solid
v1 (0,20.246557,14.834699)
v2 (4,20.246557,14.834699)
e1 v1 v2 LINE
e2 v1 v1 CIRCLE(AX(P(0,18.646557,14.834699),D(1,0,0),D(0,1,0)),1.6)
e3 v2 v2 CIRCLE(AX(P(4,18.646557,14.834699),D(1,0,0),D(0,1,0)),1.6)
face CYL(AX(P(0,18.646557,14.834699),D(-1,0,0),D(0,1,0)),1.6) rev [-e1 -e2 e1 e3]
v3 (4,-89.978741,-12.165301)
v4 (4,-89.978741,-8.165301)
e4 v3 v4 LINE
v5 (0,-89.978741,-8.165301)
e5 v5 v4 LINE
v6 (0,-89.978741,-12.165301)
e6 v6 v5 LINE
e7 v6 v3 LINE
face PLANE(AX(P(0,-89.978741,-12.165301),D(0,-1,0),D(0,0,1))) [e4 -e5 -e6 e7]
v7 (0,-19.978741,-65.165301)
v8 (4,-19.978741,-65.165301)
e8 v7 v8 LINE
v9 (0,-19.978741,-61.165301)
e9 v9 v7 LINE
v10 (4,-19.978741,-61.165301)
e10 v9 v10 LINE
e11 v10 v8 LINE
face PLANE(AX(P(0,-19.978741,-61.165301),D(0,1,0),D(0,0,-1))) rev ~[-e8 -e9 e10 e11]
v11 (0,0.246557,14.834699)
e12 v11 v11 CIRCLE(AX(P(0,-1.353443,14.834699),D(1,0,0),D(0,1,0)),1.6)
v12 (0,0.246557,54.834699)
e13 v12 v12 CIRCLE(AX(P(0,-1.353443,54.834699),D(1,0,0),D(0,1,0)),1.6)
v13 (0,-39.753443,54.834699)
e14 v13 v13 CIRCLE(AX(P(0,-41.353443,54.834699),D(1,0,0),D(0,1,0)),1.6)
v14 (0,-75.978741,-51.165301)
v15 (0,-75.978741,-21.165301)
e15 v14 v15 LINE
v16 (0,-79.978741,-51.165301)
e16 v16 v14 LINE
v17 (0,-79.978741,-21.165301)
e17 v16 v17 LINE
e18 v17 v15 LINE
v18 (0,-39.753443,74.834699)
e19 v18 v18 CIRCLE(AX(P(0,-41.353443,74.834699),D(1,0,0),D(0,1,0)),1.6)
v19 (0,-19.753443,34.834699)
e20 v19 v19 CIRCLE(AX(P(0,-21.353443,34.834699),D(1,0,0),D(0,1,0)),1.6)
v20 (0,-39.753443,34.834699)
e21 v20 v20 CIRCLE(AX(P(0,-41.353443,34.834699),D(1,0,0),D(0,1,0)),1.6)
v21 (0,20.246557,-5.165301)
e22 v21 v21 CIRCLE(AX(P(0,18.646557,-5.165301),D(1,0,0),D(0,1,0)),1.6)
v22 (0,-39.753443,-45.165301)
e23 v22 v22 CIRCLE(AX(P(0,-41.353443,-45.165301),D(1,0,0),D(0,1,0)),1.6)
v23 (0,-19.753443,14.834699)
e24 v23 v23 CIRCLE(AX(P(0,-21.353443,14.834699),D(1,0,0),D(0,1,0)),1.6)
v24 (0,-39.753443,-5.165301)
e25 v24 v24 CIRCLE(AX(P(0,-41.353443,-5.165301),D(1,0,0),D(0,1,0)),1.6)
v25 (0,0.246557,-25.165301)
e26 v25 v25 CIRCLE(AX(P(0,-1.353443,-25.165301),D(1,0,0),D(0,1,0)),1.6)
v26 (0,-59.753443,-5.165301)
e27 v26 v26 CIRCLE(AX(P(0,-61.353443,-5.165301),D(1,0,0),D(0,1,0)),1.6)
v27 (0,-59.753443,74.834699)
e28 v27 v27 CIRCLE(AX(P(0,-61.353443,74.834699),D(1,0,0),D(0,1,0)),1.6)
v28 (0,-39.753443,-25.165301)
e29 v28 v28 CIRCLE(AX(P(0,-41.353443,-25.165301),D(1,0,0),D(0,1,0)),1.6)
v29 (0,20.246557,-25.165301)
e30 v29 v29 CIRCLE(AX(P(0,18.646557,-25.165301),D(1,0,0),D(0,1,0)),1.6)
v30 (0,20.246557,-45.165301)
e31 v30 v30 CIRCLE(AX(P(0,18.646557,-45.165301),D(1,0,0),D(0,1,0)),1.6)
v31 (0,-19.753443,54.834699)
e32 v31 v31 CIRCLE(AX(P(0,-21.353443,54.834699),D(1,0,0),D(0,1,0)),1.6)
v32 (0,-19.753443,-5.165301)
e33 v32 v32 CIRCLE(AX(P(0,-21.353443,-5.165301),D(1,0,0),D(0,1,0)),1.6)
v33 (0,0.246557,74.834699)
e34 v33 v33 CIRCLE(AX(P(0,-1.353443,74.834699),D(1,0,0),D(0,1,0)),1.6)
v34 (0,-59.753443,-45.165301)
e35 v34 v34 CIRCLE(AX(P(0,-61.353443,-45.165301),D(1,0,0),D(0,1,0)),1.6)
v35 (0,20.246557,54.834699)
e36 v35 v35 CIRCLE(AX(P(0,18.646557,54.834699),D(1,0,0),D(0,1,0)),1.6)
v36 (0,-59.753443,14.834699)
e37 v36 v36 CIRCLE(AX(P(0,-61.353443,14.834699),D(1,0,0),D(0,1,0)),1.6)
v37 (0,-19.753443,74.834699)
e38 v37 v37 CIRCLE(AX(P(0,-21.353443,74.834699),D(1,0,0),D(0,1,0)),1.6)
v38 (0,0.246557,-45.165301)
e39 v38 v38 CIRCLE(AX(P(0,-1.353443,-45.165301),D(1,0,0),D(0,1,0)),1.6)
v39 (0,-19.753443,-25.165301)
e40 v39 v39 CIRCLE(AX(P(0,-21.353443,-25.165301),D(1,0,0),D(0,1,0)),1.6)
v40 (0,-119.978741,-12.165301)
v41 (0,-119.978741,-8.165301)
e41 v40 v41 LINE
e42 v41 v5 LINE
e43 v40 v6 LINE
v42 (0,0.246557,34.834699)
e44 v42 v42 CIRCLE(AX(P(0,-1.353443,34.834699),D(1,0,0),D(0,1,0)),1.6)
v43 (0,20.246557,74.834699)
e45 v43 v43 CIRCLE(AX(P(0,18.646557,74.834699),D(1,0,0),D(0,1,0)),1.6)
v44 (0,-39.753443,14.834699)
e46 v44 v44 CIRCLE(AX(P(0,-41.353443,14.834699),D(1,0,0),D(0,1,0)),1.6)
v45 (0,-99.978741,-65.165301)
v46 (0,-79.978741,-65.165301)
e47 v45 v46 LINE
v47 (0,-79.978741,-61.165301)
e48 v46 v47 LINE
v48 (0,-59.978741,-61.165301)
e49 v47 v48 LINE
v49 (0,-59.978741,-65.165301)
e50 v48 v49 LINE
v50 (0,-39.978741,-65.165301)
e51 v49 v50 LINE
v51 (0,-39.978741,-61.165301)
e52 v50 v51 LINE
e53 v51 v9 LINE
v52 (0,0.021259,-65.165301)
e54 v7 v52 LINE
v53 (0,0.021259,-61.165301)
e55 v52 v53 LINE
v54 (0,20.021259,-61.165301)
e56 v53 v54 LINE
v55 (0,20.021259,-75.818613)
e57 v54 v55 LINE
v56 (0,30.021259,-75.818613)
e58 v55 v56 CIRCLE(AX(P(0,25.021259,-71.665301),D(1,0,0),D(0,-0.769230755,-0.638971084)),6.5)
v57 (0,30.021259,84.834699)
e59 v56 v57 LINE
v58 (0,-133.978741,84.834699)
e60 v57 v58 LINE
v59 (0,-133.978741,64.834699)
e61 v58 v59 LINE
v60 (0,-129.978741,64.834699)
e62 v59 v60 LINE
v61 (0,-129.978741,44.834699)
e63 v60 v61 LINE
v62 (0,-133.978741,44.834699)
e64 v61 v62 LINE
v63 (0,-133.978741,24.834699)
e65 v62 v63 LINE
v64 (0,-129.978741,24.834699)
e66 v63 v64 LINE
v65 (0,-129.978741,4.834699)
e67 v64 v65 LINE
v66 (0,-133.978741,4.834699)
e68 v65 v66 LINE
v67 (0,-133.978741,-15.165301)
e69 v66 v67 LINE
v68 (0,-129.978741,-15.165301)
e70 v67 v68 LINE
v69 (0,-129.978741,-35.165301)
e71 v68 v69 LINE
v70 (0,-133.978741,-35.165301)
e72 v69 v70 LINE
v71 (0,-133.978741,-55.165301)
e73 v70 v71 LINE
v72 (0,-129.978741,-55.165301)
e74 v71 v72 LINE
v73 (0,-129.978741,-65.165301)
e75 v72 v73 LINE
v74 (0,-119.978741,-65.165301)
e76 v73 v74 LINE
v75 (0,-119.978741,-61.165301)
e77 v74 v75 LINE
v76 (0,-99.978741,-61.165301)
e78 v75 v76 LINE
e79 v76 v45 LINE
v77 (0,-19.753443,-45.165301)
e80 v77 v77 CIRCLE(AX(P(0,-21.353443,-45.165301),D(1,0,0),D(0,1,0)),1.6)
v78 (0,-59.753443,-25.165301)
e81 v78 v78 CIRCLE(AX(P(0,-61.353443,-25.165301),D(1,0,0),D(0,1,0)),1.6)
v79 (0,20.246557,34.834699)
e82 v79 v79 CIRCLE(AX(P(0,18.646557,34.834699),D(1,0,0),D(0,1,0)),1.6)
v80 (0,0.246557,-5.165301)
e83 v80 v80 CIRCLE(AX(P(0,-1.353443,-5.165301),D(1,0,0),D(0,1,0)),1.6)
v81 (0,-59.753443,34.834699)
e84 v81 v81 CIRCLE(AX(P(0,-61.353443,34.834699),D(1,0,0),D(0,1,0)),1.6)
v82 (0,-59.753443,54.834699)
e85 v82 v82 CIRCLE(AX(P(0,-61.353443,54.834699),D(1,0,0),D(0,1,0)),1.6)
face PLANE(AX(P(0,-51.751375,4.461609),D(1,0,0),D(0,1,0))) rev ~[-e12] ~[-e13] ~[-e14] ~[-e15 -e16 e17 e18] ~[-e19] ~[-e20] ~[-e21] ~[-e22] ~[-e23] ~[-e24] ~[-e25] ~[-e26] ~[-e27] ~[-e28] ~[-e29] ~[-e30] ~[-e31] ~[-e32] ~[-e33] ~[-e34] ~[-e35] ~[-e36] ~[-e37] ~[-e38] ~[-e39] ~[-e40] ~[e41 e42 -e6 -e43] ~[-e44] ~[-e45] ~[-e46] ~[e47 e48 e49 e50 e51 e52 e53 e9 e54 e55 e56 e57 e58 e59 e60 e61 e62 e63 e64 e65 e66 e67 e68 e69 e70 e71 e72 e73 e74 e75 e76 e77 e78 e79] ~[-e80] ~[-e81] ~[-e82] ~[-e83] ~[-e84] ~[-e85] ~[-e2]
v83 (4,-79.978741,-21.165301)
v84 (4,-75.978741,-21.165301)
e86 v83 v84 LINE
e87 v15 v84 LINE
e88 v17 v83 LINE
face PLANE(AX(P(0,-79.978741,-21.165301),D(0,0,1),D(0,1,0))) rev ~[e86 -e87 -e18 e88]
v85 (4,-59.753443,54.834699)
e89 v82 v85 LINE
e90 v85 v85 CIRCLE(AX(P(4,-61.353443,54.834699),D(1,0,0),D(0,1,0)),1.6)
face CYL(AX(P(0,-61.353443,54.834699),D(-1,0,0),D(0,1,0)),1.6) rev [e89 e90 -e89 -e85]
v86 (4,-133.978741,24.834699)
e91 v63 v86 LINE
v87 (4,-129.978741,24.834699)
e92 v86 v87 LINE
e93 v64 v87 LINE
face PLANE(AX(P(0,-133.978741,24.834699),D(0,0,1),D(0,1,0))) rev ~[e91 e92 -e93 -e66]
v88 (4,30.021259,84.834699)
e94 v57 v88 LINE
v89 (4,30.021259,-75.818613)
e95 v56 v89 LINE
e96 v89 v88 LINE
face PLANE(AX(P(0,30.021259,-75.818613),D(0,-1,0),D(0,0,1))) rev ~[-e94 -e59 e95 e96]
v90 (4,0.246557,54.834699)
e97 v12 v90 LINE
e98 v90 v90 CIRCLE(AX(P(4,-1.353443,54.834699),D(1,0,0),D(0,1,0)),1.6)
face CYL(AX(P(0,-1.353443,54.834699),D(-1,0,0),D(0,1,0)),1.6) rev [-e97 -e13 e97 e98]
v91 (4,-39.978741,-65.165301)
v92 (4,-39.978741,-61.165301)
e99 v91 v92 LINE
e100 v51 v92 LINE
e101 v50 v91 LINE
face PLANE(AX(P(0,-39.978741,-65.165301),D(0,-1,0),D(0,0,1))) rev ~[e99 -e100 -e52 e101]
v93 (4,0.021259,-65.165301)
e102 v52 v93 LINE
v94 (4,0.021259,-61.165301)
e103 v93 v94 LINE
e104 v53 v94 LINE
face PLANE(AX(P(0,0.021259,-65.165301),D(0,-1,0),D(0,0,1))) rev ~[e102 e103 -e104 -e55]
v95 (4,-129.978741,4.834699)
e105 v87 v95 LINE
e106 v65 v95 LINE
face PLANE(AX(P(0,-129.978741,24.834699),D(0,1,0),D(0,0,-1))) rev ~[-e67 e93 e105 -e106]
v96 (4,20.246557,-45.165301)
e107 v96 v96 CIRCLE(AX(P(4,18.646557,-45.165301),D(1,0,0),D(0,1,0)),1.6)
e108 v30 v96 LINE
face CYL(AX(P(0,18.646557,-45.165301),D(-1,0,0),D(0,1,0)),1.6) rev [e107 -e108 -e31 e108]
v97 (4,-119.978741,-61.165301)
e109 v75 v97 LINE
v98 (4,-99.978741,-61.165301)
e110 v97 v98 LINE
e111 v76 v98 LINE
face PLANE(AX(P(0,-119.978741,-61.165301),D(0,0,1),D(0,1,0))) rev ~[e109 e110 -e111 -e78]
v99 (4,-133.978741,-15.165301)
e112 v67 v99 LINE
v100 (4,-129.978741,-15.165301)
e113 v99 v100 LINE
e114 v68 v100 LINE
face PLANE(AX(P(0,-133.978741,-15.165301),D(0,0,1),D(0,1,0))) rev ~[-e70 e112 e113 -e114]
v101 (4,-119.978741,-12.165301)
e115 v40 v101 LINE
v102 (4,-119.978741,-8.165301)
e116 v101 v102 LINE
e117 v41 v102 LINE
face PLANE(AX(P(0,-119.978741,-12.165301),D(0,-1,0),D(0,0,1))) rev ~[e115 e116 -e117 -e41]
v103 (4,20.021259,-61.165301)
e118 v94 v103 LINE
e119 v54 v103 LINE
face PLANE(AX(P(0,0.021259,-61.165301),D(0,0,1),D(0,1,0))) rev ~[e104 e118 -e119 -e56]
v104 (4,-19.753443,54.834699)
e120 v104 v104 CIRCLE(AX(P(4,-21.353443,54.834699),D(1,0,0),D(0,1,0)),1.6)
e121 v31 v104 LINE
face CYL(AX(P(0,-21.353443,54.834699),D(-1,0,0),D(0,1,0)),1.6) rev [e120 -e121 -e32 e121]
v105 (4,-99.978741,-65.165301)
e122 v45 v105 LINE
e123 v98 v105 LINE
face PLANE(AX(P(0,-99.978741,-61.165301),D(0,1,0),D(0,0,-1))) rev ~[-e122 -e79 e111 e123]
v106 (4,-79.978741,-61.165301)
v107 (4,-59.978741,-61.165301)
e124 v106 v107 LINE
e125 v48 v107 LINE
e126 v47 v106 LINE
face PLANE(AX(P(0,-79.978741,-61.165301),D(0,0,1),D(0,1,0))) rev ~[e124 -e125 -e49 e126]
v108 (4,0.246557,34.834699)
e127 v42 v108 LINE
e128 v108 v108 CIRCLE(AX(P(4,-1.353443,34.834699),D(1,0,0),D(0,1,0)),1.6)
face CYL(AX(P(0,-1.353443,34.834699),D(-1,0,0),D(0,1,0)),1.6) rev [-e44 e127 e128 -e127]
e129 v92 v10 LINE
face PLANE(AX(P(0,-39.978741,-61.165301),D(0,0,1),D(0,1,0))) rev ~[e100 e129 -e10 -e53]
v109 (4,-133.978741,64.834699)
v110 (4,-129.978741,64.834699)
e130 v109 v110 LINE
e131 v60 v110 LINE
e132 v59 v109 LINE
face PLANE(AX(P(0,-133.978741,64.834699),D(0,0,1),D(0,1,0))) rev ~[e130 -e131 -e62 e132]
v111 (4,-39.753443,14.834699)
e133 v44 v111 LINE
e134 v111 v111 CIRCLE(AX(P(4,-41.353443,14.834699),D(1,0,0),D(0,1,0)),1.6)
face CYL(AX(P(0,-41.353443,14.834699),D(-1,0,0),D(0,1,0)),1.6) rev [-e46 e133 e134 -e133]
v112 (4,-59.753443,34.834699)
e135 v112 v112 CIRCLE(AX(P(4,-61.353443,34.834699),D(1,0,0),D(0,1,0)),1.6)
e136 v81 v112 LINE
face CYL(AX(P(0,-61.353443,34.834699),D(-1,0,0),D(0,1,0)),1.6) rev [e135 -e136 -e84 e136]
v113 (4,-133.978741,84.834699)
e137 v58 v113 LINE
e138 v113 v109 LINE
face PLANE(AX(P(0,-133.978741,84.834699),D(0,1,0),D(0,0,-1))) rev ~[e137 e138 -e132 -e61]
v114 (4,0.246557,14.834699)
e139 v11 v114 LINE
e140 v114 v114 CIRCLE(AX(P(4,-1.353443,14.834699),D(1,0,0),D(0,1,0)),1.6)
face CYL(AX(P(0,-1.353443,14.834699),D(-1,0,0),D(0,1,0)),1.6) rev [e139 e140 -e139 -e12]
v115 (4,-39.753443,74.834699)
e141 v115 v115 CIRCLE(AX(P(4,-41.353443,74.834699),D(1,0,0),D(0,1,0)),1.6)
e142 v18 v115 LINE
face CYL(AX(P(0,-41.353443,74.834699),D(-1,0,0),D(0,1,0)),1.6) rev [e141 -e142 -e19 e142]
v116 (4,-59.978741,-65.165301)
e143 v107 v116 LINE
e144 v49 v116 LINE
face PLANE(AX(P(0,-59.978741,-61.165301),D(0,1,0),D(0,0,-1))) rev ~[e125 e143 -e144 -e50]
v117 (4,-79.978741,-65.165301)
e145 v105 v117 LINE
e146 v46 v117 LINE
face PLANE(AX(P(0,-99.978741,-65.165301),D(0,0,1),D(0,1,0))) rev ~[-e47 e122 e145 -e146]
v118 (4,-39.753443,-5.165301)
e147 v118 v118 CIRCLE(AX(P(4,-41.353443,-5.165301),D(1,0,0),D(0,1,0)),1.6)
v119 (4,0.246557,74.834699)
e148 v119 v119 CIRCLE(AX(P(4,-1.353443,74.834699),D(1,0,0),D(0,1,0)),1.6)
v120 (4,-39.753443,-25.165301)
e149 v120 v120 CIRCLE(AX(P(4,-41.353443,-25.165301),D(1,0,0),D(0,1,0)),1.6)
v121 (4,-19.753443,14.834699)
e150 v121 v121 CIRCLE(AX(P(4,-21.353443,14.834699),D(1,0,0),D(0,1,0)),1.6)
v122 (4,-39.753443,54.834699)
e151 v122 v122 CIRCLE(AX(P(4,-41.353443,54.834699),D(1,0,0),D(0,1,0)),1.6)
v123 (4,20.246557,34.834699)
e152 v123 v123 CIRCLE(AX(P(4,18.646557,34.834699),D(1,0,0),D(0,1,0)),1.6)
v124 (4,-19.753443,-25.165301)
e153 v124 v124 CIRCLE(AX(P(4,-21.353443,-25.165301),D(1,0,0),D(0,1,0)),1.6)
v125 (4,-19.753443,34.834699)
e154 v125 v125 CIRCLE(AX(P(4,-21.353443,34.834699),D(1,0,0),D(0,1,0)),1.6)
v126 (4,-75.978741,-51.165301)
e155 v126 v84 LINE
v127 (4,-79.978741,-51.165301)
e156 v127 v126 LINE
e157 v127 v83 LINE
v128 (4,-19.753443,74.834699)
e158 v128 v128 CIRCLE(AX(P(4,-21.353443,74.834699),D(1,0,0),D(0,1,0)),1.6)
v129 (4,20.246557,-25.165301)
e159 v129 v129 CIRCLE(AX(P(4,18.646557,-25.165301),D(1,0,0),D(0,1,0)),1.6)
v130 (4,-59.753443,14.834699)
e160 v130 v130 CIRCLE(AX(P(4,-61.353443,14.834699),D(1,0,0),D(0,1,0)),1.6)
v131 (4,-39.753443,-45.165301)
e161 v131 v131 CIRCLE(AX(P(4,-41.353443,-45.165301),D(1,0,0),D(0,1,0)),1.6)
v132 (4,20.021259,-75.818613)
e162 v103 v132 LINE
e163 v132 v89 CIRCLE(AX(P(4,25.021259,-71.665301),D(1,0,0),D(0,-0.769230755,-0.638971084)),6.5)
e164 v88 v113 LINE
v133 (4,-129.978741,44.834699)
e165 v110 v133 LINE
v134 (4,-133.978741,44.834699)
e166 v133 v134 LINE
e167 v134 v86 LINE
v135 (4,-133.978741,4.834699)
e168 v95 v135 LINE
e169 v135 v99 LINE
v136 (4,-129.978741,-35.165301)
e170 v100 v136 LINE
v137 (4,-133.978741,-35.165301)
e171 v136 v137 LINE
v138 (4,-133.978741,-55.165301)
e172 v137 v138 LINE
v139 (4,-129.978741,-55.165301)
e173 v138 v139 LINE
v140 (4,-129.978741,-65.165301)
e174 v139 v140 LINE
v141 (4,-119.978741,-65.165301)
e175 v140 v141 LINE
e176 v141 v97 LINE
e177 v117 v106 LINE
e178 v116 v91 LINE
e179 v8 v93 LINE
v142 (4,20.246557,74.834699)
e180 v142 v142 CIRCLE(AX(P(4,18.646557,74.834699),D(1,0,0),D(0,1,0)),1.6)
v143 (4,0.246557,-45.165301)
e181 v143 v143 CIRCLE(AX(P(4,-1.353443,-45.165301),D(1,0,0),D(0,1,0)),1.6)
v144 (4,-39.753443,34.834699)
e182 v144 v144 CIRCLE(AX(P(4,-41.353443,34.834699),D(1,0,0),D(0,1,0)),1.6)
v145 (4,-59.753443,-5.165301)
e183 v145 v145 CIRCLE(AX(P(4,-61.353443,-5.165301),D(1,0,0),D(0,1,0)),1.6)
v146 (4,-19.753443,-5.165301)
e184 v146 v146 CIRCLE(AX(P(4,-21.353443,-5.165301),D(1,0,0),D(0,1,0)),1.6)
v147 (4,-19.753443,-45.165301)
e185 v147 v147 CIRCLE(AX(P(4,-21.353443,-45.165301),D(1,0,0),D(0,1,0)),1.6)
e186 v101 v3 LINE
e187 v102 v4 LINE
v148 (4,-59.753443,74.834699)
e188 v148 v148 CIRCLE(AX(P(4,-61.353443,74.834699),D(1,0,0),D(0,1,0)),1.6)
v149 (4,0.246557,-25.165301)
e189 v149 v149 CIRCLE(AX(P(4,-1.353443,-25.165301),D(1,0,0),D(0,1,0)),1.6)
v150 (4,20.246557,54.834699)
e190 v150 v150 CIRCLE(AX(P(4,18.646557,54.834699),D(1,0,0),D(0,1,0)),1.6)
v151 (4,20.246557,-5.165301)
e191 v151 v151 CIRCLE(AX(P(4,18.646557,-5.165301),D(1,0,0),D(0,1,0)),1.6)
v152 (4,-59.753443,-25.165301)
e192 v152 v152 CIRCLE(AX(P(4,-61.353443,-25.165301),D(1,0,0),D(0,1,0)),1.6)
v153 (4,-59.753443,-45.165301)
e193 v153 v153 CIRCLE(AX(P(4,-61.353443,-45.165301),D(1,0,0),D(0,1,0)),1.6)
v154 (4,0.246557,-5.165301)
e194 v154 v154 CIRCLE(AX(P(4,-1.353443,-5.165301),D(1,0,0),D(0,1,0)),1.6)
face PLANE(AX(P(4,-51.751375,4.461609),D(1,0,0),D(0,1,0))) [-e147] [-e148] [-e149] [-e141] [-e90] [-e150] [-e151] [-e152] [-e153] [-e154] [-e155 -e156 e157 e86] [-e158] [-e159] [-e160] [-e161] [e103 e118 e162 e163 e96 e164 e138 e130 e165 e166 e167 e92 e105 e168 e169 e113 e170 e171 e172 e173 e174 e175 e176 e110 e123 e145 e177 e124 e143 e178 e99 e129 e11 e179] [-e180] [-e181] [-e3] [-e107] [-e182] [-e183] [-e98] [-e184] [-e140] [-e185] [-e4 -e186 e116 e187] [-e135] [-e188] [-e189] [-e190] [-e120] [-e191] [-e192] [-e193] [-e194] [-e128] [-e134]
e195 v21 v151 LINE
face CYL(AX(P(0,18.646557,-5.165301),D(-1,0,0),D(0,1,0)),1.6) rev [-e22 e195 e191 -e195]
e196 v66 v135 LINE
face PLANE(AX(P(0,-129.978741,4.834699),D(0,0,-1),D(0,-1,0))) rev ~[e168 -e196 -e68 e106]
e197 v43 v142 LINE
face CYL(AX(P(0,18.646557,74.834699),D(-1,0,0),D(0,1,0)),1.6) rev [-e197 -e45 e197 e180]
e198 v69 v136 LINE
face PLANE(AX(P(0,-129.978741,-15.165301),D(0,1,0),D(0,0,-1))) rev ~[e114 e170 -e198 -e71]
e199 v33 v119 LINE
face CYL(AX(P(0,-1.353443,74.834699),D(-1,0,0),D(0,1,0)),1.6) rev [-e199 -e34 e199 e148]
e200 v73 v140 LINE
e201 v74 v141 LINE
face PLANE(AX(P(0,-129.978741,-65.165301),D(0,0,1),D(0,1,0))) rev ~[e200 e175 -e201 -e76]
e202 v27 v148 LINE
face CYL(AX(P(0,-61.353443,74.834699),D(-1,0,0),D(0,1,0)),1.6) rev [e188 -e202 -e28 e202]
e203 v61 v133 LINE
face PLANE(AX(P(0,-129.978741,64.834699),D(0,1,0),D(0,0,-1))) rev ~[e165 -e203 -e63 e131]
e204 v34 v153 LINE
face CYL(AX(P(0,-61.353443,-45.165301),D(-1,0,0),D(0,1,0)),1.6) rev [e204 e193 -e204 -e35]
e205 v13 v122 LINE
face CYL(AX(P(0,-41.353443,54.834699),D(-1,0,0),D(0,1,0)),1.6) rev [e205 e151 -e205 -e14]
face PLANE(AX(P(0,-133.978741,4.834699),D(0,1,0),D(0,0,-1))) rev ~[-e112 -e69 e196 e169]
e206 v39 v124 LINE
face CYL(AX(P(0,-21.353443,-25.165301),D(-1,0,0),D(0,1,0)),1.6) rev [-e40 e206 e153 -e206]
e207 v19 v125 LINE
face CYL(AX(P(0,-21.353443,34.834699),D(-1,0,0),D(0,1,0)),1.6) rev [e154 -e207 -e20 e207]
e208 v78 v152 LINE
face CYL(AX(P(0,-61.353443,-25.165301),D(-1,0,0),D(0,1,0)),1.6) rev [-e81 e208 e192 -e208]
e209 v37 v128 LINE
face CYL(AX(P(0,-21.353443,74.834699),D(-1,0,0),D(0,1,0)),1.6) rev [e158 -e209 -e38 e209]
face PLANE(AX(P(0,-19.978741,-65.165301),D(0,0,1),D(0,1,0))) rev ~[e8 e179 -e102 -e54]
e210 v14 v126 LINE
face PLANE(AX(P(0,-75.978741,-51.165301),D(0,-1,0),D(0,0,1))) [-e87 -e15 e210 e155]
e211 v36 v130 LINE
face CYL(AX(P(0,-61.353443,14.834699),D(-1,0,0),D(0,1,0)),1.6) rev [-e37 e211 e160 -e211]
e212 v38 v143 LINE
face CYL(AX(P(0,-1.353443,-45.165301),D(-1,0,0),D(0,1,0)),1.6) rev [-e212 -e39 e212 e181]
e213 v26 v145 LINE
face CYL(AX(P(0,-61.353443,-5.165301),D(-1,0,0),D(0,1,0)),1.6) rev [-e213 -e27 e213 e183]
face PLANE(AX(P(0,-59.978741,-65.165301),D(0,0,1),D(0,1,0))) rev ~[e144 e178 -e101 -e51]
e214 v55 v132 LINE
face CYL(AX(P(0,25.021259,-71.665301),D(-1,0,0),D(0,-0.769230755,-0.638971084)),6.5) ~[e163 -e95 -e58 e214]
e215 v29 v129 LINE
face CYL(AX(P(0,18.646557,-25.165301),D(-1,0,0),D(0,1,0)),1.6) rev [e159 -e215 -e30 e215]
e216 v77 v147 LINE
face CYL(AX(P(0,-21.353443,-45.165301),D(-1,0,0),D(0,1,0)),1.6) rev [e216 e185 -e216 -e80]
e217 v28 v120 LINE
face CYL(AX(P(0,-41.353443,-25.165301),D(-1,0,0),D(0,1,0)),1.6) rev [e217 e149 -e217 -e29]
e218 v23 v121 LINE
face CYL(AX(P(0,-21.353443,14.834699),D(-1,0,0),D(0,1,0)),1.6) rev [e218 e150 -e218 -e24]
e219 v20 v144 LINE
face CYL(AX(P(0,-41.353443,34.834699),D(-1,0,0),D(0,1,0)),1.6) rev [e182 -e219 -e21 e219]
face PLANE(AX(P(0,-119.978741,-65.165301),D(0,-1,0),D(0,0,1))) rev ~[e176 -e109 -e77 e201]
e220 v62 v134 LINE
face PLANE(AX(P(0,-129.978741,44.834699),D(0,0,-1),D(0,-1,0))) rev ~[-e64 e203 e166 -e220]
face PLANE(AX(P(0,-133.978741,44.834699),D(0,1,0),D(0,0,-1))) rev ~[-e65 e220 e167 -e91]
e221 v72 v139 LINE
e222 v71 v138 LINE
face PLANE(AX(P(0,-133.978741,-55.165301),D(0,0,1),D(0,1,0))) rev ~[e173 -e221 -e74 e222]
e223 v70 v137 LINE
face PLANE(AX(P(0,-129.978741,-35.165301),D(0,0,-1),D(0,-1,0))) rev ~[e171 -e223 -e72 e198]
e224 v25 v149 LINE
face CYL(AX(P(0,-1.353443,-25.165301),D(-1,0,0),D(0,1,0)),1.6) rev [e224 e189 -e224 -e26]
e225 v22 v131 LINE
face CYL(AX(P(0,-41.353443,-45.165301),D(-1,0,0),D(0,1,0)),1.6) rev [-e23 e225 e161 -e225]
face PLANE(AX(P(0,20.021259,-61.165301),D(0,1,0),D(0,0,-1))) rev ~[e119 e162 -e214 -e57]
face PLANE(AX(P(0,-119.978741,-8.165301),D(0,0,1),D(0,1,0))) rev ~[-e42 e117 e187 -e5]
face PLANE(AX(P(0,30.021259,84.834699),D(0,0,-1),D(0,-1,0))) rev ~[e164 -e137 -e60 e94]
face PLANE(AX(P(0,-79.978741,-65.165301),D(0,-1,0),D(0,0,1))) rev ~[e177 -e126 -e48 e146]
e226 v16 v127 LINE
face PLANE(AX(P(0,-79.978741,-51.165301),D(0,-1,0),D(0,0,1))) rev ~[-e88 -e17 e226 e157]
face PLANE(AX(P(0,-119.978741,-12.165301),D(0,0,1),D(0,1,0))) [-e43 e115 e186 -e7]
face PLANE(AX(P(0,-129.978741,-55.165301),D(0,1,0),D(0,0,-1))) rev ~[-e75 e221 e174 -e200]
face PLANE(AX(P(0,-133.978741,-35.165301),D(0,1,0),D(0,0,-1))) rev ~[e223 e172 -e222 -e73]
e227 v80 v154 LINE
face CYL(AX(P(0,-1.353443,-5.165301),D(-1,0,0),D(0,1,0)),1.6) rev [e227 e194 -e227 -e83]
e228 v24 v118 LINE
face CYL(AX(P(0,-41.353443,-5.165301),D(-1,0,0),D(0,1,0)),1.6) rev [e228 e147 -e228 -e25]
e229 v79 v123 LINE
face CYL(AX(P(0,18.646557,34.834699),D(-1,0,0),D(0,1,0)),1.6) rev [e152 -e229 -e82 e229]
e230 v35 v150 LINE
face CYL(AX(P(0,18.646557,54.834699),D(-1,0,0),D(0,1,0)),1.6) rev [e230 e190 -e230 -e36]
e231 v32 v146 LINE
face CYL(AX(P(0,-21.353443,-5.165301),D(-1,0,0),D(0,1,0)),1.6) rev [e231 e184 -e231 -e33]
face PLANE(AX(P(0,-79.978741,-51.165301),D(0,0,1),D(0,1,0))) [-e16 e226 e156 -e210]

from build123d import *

# Parameters (mm, degrees)
F0_R     = 1.6
F0_W     = 30
F0_H     = 4
F0_W_2   = 4
F0_H_2   = 30
F1_DEPTH = 4


with BuildPart() as f1:
    # F0 (on Right) → F1 (new body)
    with BuildSketch(Plane.YZ):
        with BuildLine():
            Line((-119.978741, -65.165301), (-119.978741, -61.165301))
            Line((-119.978741, -61.165301), (-99.978741, -61.165301))
            Line((-99.978741, -61.165301), (-99.978741, -65.165301))
            Line((-99.978741, -65.165301), (-79.978741, -65.165301))
            Line((-79.978741, -65.165301), (-79.978741, -61.165301))
            Line((-79.978741, -61.165301), (-59.978741, -61.165301))
            Line((-59.978741, -61.165301), (-59.978741, -65.165301))
            Line((-59.978741, -65.165301), (-39.978741, -65.165301))
            Line((-39.978741, -65.165301), (-39.978741, -61.165301))
            Line((-39.978741, -61.165301), (-19.978741, -61.165301))
            Line((-19.978741, -61.165301), (-19.978741, -65.165301))
            Line((-19.978741, -65.165301), (0.021259, -65.165301))
            Line((0.021259, -65.165301), (0.021259, -61.165301))
            Line((0.021259, -61.165301), (20.021259, -61.165301))
            Line((20.021259, -61.165301), (20.021259, -65.165301))
            Line((20.021259, -65.165301), (20.021259, -75.818613))
            ThreePointArc((20.021259, -75.818613), (25.021259, -78.165301), (30.021259, -75.818613))
            Line((30.021259, -75.818613), (30.021259, -65.165301))
            Line((30.021259, -65.165301), (30.021259, -61.165301))
            Line((30.021259, -61.165301), (30.021259, 84.834699))
            Line((30.021259, 84.834699), (-129.978741, 84.834699))
            Line((-129.978741, 84.834699), (-133.978741, 84.834699))
            Line((-133.978741, 84.834699), (-133.978741, 64.834699))
            Line((-133.978741, 64.834699), (-129.978741, 64.834699))
            Line((-129.978741, 64.834699), (-129.978741, 44.834699))
            Line((-129.978741, 44.834699), (-133.978741, 44.834699))
            Line((-133.978741, 44.834699), (-133.978741, 24.834699))
            Line((-133.978741, 24.834699), (-129.978741, 24.834699))
            Line((-129.978741, 24.834699), (-129.978741, 4.834699))
            Line((-129.978741, 4.834699), (-133.978741, 4.834699))
            Line((-133.978741, 4.834699), (-133.978741, -15.165301))
            Line((-133.978741, -15.165301), (-129.978741, -15.165301))
            Line((-129.978741, -15.165301), (-129.978741, -35.165301))
            Line((-129.978741, -35.165301), (-133.978741, -35.165301))
            Line((-133.978741, -35.165301), (-133.978741, -55.165301))
            Line((-133.978741, -55.165301), (-129.978741, -55.165301))
            Line((-129.978741, -55.165301), (-129.978741, -65.165301))
            Line((-129.978741, -65.165301), (-119.978741, -65.165301))
        make_face()
        with Locations((-61.353443, -45.165301)):
            Circle(F0_R, mode=Mode.SUBTRACT)
        with Locations((-104.978741, -10.165301)):
            Rectangle(F0_W, F0_H, mode=Mode.SUBTRACT)
        with Locations((-77.978741, -36.165301)):
            Rectangle(F0_W_2, F0_H_2, mode=Mode.SUBTRACT)
        with Locations((-61.353443, -25.165301)):
            Circle(F0_R, mode=Mode.SUBTRACT)
        with Locations((-61.353443, -5.165301)):
            Circle(F0_R, mode=Mode.SUBTRACT)
        with Locations((-41.353443, -45.165301)):
            Circle(F0_R, mode=Mode.SUBTRACT)
        with Locations((-21.353443, -45.165301)):
            Circle(F0_R, mode=Mode.SUBTRACT)
        with Locations((-1.353443, -45.165301)):
            Circle(F0_R, mode=Mode.SUBTRACT)
        with Locations((18.646557, -45.165301)):
            Circle(F0_R, mode=Mode.SUBTRACT)
        with Locations((-41.353443, -25.165301)):
            Circle(F0_R, mode=Mode.SUBTRACT)
        with Locations((-21.353443, -25.165301)):
            Circle(F0_R, mode=Mode.SUBTRACT)
        with Locations((-41.353443, -5.165301)):
            Circle(F0_R, mode=Mode.SUBTRACT)
        with Locations((-21.353443, -5.165301)):
            Circle(F0_R, mode=Mode.SUBTRACT)
        with Locations((-1.353443, -25.165301)):
            Circle(F0_R, mode=Mode.SUBTRACT)
        with Locations((18.646557, -25.165301)):
            Circle(F0_R, mode=Mode.SUBTRACT)
        with Locations((-1.353443, -5.165301)):
            Circle(F0_R, mode=Mode.SUBTRACT)
        with Locations((18.646557, -5.165301)):
            Circle(F0_R, mode=Mode.SUBTRACT)
        with Locations((-61.353443, 14.834699)):
            Circle(F0_R, mode=Mode.SUBTRACT)
        with Locations((-61.353443, 34.834699)):
            Circle(F0_R, mode=Mode.SUBTRACT)
        with Locations((-61.353443, 54.834699)):
            Circle(F0_R, mode=Mode.SUBTRACT)
        with Locations((-61.353443, 74.834699)):
            Circle(F0_R, mode=Mode.SUBTRACT)
        with Locations((-41.353443, 14.834699)):
            Circle(F0_R, mode=Mode.SUBTRACT)
        with Locations((-21.353443, 14.834699)):
            Circle(F0_R, mode=Mode.SUBTRACT)
        with Locations((-41.353443, 34.834699)):
            Circle(F0_R, mode=Mode.SUBTRACT)
        with Locations((-21.353443, 34.834699)):
            Circle(F0_R, mode=Mode.SUBTRACT)
        with Locations((-1.353443, 14.834699)):
            Circle(F0_R, mode=Mode.SUBTRACT)
        with Locations((18.646557, 14.834699)):
            Circle(F0_R, mode=Mode.SUBTRACT)
        with Locations((-1.353443, 34.834699)):
            Circle(F0_R, mode=Mode.SUBTRACT)
        with Locations((18.646557, 34.834699)):
            Circle(F0_R, mode=Mode.SUBTRACT)
        with Locations((-41.353443, 54.834699)):
            Circle(F0_R, mode=Mode.SUBTRACT)
        with Locations((-21.353443, 54.834699)):
            Circle(F0_R, mode=Mode.SUBTRACT)
        with Locations((-41.353443, 74.834699)):
            Circle(F0_R, mode=Mode.SUBTRACT)
        with Locations((-21.353443, 74.834699)):
            Circle(F0_R, mode=Mode.SUBTRACT)
        with Locations((-1.353443, 54.834699)):
            Circle(F0_R, mode=Mode.SUBTRACT)
        with Locations((18.646557, 54.834699)):
            Circle(F0_R, mode=Mode.SUBTRACT)
        with Locations((-1.353443, 74.834699)):
            Circle(F0_R, mode=Mode.SUBTRACT)
        with Locations((18.646557, 74.834699)):
            Circle(F0_R, mode=Mode.SUBTRACT)
    extrude(amount=F1_DEPTH)


solid = f1.part
